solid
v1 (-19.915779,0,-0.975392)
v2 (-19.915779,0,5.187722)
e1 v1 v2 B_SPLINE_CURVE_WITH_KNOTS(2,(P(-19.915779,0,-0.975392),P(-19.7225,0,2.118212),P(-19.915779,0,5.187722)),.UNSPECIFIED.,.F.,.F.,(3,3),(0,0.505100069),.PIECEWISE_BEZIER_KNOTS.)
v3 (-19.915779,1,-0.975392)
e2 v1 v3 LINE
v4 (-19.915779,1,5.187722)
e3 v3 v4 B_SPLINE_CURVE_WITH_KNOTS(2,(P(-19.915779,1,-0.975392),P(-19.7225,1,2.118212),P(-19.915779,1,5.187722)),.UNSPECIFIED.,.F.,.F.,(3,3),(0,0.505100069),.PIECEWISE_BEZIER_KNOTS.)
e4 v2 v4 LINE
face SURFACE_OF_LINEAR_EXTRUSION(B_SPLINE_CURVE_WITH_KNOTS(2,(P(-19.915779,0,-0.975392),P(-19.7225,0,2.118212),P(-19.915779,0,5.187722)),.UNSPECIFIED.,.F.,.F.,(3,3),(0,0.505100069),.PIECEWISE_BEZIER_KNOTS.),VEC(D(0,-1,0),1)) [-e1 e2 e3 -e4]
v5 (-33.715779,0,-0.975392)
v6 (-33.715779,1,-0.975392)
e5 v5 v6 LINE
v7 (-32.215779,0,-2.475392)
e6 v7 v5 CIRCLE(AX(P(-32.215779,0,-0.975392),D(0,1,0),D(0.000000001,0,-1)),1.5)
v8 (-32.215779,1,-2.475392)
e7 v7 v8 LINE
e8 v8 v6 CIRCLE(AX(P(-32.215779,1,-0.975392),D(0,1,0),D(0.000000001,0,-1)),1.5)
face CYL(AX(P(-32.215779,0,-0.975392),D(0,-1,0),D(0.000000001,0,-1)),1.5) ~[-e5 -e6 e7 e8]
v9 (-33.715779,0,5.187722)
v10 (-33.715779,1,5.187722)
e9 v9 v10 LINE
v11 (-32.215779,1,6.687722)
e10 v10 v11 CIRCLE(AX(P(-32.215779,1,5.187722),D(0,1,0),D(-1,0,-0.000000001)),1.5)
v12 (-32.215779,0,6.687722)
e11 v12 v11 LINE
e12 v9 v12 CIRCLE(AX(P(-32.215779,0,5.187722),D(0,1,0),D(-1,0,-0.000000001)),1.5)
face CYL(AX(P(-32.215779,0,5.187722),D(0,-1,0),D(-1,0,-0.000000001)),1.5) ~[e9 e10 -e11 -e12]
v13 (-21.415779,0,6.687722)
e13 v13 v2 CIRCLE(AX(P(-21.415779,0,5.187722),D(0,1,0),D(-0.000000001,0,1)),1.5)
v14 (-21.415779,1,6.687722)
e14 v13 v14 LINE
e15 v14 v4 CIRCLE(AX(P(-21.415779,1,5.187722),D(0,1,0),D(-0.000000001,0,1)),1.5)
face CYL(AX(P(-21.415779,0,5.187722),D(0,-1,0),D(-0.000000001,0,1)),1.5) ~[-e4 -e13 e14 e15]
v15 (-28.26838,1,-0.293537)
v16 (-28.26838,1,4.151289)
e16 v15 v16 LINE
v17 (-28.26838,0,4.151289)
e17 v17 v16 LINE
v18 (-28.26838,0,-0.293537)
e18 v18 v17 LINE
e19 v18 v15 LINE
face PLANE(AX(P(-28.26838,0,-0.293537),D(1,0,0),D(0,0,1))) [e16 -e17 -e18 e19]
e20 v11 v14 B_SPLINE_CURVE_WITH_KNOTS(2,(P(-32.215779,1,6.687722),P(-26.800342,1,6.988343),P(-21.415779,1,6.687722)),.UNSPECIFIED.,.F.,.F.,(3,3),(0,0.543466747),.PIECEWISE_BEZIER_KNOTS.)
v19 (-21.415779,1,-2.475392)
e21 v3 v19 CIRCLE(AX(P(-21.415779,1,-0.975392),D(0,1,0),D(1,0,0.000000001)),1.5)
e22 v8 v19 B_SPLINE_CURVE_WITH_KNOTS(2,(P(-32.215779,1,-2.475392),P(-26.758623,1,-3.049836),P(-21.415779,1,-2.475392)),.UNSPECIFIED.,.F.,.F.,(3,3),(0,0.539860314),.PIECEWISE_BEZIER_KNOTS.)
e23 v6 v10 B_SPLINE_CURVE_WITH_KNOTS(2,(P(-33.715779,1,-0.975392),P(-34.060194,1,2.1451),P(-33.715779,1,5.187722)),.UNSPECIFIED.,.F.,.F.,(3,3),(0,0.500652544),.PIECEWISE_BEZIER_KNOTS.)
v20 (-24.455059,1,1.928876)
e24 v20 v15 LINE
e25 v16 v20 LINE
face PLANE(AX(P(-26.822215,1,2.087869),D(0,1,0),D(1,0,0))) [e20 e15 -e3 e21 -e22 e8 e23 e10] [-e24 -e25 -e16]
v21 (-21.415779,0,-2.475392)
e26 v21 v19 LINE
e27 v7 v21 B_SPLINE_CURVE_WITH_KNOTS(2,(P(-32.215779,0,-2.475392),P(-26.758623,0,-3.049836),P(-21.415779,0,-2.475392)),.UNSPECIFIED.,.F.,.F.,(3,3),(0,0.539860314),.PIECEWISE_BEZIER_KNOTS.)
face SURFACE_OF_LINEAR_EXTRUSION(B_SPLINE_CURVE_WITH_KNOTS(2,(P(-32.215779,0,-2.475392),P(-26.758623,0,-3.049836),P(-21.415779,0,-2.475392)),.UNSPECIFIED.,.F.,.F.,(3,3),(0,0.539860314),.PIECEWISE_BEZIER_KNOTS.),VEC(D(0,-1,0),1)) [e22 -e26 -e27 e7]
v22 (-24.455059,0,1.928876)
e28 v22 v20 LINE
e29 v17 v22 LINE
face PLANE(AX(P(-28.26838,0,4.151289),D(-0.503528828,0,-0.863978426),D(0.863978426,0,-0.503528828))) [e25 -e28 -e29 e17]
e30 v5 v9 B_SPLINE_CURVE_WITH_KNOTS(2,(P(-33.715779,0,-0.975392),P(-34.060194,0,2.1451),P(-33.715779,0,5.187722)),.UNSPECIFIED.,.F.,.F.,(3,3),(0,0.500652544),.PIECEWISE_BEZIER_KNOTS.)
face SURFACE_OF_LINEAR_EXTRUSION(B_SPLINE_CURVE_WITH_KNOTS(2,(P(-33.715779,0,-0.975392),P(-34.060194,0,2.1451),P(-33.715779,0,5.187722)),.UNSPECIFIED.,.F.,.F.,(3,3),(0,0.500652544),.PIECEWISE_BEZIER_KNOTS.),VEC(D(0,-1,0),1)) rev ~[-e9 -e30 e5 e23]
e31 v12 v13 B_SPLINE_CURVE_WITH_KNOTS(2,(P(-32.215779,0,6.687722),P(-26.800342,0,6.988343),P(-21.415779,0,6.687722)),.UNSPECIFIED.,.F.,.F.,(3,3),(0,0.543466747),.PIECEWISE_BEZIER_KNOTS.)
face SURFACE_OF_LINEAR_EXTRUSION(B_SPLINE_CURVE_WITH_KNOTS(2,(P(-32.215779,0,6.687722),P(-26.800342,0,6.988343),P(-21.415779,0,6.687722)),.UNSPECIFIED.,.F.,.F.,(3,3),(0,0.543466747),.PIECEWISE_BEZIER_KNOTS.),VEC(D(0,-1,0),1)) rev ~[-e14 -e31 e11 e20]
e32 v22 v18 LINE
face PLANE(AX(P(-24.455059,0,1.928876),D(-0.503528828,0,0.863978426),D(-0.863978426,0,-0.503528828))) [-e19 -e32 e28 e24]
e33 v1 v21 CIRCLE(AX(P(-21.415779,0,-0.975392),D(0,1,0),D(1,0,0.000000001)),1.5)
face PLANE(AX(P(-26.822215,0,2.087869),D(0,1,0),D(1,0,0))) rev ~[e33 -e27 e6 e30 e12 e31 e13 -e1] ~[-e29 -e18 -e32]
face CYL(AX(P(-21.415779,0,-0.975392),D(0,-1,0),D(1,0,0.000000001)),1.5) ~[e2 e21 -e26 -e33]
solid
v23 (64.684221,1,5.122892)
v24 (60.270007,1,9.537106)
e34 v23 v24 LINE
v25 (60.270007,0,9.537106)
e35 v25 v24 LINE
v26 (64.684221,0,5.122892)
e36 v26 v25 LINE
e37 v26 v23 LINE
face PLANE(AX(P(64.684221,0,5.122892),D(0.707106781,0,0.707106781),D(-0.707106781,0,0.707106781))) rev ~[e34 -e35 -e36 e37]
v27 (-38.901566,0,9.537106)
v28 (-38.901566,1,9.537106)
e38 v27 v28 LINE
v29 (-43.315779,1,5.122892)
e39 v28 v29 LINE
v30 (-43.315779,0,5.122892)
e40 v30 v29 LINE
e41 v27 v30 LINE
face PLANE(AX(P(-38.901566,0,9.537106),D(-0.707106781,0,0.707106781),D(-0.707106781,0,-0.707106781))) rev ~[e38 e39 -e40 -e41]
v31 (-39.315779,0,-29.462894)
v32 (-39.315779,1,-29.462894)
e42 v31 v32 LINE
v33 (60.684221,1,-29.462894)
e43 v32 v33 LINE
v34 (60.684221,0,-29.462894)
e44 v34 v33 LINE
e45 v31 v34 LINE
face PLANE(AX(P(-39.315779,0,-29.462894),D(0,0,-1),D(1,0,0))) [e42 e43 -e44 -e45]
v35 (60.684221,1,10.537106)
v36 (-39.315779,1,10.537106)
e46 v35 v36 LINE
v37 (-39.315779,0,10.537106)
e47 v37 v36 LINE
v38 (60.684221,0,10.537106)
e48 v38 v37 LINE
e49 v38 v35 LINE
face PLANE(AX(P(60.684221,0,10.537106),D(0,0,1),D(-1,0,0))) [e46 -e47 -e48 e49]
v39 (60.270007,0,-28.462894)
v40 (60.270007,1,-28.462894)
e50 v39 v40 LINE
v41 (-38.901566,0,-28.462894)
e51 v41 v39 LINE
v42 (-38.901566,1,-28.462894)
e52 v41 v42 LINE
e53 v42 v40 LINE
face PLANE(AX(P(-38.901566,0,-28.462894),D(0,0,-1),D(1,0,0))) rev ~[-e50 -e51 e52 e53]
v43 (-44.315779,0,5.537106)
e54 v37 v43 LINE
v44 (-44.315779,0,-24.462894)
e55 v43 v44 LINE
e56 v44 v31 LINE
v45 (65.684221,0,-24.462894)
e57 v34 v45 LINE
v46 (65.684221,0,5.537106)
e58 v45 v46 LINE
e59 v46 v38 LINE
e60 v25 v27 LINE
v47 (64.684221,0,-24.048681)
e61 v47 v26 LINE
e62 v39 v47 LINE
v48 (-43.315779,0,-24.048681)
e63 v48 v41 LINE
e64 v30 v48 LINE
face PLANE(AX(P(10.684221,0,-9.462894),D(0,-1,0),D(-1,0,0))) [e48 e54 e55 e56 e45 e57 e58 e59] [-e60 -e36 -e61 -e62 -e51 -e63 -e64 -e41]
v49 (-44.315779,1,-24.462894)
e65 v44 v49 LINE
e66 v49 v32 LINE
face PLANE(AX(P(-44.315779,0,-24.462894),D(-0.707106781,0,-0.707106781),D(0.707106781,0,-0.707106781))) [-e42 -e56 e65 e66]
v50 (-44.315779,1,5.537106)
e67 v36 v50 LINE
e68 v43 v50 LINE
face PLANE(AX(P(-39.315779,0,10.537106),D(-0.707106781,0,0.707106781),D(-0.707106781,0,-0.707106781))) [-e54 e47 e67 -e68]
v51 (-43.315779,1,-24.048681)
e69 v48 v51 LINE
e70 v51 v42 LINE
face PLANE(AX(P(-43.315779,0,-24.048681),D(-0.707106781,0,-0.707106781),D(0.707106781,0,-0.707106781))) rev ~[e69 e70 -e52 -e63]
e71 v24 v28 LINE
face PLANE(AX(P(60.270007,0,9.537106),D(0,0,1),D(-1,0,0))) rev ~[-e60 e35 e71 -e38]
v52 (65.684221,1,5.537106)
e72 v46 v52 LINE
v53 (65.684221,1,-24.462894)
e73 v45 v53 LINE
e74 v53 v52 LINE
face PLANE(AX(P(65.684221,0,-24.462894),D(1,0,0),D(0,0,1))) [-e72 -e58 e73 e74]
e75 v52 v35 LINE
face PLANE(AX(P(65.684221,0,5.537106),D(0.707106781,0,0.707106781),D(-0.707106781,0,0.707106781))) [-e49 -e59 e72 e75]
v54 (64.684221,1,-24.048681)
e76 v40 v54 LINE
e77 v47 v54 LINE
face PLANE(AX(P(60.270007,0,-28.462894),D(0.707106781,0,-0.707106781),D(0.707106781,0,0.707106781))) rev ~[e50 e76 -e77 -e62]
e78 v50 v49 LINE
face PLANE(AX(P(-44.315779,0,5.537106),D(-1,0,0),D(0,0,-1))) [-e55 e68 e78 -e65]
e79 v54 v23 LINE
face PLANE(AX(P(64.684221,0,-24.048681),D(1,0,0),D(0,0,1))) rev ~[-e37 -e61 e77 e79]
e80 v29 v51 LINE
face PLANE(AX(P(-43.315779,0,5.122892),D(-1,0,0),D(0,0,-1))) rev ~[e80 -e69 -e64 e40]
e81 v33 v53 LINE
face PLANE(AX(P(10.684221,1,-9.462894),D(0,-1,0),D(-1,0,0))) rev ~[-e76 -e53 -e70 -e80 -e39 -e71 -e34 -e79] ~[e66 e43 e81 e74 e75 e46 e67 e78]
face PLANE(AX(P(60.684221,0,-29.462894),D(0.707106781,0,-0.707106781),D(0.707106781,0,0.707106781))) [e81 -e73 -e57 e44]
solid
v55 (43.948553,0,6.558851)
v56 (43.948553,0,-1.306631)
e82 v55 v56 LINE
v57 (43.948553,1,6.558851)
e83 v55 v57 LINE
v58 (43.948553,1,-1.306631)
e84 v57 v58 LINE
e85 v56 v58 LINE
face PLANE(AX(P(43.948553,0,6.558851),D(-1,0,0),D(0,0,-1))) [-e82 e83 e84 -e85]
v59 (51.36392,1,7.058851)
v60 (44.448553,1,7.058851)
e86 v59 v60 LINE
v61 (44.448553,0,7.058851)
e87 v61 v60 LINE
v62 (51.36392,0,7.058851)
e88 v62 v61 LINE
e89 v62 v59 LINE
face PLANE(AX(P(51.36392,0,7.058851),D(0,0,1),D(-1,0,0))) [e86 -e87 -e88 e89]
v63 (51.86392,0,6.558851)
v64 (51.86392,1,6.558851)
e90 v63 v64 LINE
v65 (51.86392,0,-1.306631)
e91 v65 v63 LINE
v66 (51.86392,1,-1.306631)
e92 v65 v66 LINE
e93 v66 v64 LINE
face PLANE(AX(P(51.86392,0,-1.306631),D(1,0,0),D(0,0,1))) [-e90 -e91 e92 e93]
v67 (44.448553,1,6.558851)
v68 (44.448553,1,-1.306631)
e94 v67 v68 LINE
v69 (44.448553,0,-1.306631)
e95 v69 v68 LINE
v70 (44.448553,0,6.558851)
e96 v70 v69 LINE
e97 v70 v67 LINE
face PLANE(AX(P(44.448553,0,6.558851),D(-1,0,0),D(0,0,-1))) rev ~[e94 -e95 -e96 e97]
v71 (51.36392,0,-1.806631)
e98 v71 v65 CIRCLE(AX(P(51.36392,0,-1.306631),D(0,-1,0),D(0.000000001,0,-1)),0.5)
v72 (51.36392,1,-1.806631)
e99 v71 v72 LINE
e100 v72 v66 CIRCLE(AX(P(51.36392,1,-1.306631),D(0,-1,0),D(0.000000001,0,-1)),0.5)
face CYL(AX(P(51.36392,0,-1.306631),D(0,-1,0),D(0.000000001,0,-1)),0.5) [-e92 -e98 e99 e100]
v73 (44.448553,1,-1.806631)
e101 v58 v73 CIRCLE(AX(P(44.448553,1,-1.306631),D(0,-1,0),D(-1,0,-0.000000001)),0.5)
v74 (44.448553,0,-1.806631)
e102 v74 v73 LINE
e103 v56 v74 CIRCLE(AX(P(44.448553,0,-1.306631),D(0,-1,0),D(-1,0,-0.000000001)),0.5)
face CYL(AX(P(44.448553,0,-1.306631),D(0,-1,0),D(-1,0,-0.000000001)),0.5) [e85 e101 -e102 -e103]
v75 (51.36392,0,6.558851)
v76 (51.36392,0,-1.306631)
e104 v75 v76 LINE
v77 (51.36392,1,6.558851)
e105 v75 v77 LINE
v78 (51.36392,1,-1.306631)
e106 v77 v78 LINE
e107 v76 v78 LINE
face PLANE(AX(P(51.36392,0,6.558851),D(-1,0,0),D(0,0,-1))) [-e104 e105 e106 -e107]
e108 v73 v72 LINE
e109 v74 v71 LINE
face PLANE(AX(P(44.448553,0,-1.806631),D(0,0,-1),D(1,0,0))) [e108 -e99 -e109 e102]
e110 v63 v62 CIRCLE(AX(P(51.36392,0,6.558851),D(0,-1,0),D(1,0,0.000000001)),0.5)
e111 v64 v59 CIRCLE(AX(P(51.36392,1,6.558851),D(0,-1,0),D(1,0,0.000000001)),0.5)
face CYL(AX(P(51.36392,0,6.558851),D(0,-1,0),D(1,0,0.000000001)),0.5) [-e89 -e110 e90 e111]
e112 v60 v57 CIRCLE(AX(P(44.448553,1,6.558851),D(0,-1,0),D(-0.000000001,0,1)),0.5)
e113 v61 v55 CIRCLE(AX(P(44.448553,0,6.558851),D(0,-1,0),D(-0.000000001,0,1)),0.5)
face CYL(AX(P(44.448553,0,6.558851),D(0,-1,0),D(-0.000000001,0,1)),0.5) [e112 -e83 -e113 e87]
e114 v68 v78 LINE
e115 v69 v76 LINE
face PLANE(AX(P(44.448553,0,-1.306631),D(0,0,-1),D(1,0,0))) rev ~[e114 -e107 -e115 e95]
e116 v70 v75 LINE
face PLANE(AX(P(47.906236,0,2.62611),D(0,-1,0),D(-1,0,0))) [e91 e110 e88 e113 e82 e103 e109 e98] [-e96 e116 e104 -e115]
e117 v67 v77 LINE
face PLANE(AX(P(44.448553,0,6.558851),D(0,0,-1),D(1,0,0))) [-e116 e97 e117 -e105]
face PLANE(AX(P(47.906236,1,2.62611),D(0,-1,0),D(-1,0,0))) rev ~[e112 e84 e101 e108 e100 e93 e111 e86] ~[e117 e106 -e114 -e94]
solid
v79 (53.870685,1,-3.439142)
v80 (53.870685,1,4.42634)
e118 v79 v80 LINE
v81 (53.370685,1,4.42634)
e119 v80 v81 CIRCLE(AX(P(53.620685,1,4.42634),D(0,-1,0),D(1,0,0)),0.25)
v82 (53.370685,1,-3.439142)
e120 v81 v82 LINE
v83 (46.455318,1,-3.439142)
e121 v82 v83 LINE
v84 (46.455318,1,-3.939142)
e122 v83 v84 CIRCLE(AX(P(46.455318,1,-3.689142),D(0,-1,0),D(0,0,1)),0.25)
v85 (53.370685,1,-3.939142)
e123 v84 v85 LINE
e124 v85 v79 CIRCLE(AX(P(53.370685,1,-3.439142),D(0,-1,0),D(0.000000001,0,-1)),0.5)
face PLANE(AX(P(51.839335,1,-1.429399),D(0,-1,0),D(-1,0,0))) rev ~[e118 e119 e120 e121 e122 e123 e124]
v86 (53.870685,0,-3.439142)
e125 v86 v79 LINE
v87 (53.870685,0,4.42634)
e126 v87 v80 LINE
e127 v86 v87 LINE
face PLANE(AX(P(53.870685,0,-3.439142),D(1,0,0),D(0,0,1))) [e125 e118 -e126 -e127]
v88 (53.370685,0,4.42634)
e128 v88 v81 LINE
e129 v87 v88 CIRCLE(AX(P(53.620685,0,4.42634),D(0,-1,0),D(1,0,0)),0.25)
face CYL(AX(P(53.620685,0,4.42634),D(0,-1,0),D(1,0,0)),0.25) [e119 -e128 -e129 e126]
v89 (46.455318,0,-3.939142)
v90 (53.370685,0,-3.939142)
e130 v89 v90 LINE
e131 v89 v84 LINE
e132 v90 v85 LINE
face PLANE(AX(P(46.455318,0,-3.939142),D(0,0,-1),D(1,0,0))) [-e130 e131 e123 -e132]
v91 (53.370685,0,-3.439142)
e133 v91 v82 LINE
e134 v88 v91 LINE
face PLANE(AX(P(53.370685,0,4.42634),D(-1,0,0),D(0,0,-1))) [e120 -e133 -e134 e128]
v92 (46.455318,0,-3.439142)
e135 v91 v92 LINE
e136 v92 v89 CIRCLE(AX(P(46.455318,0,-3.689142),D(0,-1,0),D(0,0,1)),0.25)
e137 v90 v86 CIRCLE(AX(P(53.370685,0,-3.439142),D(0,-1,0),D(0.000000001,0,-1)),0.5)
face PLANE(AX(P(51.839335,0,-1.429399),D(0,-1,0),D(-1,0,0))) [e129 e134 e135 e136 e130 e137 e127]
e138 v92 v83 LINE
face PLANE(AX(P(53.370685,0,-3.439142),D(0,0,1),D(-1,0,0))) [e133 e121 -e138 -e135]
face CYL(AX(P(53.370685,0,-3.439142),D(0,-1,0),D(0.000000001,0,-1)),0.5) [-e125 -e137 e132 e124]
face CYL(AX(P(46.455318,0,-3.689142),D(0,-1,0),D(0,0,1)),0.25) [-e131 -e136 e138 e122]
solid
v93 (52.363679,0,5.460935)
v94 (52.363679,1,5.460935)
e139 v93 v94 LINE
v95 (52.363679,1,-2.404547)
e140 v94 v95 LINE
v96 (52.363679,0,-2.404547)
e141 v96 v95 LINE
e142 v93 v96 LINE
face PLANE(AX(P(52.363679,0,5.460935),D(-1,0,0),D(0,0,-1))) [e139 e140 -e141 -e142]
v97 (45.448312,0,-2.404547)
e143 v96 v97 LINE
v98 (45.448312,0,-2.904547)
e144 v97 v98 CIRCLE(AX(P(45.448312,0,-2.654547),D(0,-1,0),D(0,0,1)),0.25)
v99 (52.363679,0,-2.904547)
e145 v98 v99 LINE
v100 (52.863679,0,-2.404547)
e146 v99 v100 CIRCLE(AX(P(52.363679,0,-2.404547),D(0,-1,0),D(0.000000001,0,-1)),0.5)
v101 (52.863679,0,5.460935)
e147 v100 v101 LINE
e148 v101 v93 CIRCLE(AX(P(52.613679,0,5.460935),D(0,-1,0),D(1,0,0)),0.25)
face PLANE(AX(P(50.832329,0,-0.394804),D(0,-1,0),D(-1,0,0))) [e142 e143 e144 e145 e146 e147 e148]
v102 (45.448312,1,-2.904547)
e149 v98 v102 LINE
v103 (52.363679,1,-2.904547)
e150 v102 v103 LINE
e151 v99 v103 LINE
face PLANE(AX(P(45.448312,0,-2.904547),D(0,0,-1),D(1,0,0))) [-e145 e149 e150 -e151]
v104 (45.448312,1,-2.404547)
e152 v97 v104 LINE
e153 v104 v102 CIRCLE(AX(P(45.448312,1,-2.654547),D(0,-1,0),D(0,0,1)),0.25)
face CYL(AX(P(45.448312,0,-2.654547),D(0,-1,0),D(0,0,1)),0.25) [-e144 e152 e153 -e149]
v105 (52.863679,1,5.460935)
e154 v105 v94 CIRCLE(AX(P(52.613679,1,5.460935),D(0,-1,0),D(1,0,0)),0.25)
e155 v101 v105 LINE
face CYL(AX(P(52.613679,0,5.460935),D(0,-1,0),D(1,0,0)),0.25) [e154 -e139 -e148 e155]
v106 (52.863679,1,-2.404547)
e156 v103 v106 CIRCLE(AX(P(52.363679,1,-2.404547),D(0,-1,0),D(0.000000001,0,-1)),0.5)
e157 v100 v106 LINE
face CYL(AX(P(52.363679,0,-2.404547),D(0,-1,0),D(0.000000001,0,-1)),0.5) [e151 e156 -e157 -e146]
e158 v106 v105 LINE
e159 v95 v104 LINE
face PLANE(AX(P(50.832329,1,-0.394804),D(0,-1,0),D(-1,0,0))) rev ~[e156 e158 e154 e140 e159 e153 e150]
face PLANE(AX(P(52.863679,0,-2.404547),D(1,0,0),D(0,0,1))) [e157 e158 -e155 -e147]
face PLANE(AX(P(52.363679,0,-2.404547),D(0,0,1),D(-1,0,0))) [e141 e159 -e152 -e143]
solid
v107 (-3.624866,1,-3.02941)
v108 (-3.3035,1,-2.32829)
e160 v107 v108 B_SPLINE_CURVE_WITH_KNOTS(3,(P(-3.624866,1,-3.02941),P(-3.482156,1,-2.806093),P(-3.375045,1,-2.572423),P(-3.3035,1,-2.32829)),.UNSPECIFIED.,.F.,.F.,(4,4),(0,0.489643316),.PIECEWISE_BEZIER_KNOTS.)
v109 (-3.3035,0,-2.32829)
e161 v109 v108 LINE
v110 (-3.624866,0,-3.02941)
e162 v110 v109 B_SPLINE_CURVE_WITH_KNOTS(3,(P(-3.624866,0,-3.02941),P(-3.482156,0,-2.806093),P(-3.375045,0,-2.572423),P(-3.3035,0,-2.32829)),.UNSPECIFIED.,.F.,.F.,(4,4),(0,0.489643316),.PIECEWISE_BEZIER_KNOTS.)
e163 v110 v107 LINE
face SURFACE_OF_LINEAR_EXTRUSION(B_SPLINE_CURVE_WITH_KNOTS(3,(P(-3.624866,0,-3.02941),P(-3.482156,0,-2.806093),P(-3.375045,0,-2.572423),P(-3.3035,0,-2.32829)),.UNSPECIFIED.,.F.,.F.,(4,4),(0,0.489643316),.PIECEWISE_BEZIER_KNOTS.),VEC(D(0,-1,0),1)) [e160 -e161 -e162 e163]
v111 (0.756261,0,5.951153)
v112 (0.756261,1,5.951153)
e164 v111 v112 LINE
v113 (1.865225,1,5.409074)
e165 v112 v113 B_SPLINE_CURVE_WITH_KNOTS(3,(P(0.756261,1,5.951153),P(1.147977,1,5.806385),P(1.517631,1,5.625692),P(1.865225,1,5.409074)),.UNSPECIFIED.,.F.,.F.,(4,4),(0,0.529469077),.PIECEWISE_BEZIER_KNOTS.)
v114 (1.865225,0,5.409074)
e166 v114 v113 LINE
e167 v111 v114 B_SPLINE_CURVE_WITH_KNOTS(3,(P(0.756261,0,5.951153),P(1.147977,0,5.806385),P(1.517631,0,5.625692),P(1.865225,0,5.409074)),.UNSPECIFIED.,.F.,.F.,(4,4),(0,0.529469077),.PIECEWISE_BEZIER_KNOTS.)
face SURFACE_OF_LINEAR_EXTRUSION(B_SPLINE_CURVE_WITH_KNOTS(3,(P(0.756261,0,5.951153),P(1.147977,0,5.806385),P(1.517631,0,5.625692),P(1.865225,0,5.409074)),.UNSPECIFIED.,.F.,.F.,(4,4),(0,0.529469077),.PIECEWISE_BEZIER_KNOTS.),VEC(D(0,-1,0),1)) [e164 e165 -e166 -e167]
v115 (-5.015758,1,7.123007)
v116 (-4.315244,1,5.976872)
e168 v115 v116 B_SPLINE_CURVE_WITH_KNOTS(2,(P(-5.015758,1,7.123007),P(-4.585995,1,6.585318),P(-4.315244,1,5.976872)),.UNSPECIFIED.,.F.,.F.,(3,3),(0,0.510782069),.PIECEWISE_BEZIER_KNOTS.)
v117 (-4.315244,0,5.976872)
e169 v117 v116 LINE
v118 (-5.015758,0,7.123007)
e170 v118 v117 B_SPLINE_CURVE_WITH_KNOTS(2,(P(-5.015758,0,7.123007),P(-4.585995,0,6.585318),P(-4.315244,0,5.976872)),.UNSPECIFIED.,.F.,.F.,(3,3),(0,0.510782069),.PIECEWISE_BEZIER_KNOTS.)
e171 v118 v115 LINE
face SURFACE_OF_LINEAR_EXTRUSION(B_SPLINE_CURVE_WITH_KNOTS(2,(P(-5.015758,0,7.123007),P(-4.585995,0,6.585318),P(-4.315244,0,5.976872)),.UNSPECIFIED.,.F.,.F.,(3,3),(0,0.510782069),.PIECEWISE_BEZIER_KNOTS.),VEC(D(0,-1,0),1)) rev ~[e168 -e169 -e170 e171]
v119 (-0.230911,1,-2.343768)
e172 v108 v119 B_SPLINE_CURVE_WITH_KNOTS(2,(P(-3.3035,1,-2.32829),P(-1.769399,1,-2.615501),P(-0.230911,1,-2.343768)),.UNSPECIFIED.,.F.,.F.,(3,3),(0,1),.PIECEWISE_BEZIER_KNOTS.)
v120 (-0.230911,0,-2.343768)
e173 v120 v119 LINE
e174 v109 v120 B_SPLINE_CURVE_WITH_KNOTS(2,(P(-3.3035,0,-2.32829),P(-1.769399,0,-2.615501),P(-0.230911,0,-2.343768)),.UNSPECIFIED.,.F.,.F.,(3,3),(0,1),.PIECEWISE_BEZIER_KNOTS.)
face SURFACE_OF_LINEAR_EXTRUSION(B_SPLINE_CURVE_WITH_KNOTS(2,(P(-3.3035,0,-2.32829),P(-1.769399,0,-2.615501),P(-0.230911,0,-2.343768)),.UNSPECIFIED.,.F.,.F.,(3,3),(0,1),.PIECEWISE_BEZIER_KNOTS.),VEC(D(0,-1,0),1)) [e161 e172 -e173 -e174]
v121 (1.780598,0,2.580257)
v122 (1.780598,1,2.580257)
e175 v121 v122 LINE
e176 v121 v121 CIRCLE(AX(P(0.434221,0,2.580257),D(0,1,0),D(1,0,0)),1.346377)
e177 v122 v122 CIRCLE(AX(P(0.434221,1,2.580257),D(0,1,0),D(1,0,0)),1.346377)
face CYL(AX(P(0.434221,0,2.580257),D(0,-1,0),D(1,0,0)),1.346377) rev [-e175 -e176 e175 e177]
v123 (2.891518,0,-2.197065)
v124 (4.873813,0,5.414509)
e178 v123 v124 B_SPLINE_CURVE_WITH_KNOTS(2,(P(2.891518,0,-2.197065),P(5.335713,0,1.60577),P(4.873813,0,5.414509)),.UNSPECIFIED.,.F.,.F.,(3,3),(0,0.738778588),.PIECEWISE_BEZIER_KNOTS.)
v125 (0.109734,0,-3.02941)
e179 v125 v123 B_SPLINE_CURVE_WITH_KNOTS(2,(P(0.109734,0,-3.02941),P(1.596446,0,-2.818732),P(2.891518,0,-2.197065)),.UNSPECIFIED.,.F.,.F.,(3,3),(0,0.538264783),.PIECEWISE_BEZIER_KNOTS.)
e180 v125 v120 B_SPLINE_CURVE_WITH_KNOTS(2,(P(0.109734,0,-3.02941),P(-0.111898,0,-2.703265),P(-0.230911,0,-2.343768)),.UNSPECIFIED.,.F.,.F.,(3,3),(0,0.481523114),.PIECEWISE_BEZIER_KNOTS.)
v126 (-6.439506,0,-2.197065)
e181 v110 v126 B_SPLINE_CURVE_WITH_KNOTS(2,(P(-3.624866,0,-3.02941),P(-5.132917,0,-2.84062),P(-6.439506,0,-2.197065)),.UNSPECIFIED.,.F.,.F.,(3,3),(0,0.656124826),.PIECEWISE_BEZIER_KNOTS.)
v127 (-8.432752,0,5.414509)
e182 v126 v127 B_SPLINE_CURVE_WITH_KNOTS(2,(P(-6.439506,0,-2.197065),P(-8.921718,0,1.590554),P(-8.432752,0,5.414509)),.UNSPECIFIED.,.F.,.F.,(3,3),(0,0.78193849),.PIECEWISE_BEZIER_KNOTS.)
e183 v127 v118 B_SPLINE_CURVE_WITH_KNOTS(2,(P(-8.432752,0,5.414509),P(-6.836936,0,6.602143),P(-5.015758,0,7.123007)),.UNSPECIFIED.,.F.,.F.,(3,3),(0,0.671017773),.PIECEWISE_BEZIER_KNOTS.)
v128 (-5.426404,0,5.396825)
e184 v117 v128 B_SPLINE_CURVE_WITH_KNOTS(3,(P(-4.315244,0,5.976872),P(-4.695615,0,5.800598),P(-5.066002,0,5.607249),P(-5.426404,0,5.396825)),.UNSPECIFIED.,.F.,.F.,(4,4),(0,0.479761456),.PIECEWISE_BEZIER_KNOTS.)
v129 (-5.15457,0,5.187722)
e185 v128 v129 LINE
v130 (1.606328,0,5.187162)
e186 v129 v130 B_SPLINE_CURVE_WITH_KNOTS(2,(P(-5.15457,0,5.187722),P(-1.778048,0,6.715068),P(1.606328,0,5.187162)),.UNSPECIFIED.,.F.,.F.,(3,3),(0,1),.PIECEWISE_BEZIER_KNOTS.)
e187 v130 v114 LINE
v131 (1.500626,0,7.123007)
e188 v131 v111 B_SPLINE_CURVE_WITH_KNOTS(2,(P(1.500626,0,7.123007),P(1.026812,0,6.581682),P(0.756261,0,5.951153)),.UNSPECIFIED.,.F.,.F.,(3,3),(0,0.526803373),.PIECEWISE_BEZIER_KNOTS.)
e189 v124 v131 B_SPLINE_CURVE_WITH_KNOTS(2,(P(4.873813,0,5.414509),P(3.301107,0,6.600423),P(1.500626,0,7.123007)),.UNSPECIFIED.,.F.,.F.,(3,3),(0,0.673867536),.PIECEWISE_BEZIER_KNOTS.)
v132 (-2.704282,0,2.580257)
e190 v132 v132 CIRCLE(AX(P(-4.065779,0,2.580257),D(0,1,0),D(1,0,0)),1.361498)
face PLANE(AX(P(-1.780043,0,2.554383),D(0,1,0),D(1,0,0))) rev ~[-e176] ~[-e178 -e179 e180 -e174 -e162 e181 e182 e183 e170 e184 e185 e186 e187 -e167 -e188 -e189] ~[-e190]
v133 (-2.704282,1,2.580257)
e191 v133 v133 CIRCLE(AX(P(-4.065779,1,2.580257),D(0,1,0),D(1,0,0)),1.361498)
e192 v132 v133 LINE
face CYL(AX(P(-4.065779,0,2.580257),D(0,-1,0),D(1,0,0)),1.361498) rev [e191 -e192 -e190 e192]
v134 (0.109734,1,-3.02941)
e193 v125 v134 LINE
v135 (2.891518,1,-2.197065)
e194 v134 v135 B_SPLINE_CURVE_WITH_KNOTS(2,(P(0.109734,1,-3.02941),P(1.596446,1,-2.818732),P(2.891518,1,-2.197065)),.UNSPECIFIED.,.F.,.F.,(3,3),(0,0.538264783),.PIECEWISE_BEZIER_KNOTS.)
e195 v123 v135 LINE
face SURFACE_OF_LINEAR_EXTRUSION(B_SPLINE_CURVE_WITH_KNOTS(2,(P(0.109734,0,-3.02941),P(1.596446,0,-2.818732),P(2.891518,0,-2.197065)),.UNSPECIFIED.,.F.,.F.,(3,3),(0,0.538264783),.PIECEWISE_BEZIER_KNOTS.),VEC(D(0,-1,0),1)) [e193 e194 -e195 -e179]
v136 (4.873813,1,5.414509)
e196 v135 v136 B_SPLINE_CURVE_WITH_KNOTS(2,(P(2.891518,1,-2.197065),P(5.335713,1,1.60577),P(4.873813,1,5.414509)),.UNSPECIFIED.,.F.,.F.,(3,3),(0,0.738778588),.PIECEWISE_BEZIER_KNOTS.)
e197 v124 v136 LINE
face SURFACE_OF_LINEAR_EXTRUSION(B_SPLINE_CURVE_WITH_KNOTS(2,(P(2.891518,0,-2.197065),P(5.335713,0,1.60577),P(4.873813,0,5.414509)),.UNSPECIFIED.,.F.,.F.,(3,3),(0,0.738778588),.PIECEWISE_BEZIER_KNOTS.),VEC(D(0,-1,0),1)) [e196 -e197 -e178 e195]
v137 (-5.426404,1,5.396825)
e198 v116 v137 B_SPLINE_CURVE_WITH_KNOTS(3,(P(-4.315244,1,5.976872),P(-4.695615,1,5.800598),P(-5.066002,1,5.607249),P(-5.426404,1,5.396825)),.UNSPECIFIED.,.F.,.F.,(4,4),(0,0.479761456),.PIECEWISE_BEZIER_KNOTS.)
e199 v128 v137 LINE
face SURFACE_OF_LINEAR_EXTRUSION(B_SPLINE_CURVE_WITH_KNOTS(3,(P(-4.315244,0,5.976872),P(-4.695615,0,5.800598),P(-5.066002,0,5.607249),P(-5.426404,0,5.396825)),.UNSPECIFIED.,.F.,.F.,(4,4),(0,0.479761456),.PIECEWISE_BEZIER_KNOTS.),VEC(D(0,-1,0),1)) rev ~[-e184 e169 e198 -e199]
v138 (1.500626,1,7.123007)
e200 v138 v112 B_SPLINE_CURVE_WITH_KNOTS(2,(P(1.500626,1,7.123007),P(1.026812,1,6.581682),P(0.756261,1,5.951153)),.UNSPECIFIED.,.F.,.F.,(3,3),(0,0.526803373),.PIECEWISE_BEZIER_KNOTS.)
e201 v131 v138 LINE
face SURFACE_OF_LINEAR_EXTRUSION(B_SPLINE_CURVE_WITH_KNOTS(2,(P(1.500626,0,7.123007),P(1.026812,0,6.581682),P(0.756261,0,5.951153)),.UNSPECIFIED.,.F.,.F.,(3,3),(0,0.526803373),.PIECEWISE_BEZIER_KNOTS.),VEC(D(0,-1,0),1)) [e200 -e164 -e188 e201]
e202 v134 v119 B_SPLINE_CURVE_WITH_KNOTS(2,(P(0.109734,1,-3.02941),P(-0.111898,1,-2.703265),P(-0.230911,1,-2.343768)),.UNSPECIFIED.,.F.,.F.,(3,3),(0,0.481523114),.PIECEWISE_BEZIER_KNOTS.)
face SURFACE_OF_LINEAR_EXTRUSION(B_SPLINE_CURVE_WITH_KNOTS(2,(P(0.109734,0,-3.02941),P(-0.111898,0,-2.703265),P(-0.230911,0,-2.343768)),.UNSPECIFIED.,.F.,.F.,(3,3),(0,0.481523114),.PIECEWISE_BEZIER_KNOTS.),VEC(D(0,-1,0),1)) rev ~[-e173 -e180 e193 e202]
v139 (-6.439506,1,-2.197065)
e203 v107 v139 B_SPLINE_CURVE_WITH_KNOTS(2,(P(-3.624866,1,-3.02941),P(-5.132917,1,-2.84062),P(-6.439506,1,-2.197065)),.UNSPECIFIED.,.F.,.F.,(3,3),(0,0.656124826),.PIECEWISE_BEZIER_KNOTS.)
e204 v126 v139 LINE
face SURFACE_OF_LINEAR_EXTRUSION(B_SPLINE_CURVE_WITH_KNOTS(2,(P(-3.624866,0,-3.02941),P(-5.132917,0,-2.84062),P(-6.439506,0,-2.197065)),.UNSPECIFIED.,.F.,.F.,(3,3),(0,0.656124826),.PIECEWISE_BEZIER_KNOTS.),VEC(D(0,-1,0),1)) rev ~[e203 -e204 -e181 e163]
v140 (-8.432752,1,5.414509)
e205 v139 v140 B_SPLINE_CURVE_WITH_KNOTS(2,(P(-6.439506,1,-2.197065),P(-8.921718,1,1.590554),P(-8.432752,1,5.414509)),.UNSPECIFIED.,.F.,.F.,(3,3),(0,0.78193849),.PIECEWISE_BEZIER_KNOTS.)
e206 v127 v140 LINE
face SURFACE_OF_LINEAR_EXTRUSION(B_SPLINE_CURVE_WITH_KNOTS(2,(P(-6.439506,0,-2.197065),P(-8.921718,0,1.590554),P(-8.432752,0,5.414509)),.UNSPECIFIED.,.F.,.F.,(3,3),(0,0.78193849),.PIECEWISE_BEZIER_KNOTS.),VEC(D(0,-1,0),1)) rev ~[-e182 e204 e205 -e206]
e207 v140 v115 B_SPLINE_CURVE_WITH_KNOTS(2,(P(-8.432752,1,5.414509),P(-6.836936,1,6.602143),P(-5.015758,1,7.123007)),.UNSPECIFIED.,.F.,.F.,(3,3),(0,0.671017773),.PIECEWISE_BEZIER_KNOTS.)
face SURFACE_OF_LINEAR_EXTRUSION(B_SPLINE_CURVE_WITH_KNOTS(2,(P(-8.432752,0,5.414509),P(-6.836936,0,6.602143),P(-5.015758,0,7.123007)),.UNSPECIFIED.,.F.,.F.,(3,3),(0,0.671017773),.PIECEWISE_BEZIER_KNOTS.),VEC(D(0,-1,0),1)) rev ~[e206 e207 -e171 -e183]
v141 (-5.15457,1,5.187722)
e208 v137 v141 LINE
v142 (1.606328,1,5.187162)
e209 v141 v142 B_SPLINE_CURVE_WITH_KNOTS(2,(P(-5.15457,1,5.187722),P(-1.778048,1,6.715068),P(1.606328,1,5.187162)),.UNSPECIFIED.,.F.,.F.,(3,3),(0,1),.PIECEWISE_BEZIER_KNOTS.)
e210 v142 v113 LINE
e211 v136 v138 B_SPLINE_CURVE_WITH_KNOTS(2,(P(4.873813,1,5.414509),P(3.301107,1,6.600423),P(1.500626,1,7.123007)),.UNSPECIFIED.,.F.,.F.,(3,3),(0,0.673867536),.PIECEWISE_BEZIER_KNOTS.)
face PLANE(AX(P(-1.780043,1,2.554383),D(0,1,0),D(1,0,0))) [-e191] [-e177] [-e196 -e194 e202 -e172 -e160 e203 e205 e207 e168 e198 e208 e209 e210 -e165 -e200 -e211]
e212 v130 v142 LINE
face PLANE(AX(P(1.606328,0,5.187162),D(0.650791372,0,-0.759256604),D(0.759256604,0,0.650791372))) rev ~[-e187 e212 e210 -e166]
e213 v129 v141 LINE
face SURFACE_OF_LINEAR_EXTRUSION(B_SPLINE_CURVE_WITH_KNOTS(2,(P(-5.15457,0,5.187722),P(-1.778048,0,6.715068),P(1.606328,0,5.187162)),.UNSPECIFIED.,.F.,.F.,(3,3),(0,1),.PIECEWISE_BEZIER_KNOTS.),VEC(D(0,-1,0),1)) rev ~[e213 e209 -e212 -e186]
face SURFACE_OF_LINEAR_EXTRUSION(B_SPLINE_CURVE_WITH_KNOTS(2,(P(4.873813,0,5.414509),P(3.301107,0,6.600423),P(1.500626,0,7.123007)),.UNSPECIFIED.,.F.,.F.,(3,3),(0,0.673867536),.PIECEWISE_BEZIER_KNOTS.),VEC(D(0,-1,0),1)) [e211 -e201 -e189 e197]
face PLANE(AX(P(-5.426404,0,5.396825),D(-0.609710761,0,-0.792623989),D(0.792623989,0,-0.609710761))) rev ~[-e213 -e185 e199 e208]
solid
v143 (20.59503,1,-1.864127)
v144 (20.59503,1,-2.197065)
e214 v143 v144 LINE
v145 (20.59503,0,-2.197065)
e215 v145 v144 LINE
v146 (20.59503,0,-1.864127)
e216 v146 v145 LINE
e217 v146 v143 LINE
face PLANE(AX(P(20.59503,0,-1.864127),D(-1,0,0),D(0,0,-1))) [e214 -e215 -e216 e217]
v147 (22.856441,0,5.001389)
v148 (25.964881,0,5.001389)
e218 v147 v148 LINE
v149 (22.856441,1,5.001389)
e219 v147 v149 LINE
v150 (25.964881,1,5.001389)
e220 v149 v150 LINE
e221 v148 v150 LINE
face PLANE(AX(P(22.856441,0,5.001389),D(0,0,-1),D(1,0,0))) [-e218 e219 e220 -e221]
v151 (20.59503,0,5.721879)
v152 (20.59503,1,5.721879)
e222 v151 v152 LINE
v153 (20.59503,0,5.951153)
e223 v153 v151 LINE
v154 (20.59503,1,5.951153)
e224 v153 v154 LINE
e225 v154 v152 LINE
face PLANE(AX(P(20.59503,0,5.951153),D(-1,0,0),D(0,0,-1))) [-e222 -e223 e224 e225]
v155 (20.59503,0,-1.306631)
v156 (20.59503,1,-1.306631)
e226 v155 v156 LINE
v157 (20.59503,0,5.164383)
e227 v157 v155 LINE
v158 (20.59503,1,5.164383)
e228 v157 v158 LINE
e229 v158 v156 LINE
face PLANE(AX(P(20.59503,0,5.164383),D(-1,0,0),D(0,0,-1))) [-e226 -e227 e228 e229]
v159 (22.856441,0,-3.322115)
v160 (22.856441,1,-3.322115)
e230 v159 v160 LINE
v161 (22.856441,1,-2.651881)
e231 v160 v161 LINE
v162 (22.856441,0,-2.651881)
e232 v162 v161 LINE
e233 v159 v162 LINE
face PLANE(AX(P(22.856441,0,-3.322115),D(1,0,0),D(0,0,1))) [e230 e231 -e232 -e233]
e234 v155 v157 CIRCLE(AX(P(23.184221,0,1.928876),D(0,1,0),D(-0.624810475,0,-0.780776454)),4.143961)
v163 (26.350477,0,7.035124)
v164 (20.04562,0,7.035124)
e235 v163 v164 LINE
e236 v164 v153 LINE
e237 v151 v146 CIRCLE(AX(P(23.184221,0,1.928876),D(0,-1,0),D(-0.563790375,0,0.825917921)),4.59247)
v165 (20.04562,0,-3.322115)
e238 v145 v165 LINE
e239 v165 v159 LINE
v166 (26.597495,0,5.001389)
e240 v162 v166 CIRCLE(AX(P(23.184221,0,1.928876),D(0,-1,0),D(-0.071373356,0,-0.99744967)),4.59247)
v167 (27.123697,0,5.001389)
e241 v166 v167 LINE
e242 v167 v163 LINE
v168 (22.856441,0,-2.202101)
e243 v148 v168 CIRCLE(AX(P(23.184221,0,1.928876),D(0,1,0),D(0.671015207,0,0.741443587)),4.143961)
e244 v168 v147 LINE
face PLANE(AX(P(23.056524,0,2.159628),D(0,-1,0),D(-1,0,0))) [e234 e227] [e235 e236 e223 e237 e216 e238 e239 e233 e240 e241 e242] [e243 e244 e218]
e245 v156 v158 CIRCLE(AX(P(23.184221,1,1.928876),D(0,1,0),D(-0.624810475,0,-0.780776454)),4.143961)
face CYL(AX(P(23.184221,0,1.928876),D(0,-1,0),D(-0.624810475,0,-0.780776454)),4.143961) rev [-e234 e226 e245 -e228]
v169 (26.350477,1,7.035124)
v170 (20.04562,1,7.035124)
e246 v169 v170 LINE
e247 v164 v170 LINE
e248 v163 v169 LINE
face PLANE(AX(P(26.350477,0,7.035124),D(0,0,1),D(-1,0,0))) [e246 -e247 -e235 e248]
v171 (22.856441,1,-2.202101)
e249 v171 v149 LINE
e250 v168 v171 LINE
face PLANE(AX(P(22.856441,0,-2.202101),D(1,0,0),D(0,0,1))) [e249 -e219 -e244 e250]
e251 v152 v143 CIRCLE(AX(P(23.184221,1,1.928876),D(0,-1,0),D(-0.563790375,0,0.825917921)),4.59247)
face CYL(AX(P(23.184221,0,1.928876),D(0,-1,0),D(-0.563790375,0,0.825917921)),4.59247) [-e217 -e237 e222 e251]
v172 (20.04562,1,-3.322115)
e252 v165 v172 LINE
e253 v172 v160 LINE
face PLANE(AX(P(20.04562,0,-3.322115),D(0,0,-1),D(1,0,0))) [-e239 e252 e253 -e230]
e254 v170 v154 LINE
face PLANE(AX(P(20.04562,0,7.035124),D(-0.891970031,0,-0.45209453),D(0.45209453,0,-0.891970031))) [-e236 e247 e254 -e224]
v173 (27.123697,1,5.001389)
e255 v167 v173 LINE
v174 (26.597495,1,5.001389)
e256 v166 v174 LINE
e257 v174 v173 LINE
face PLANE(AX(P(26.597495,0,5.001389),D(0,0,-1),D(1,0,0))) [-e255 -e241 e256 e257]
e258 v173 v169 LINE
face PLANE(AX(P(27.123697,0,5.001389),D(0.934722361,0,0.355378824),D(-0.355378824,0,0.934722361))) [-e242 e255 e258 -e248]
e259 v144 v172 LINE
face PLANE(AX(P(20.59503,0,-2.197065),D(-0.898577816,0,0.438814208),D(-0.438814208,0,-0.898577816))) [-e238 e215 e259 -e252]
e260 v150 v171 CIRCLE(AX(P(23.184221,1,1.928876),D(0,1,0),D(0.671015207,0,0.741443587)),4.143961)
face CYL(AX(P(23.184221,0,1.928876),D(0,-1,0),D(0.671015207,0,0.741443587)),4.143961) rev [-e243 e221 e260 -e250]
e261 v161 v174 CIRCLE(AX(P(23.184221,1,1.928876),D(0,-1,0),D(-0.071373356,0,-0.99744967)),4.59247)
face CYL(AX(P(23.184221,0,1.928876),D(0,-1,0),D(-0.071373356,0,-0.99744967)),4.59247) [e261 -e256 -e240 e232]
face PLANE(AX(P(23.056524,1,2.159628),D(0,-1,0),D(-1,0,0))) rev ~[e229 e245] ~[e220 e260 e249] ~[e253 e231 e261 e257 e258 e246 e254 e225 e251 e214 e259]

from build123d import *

# Parameters (mm, degrees)
SALIENTE_EXTRUIR1_DEPTH   = 1
CROQUIS2_R                = 1.361497815
CROQUIS2_R_2              = 1.346376897
SALIENTE_EXTRUIR2_DEPTH   = 1
SALIENTE_EXTRUIR2_2_DEPTH = 1
CROQUIS2_W                = 6.915366852
CROQUIS2_H                = 7.865481614
SALIENTE_EXTRUIR2_3_DEPTH = 1
SALIENTE_EXTRUIR2_4_DEPTH = 1
SALIENTE_EXTRUIR2_5_DEPTH = 1
SALIENTE_EXTRUIR2_6_DEPTH = 1


with BuildPart() as part:
    # Croquis1 → Saliente-Extruir1 (new body)
    with BuildSketch(Plane(origin=(0, 0, 0), x_dir=(1, 0, 0), z_dir=(0, 1, 0))):
        Polygon((-44.315779358, 24.462894216), (-39.315779358, 29.462894216), (60.684220642, 29.462894216), (65.684220642, 24.462894216), (65.684220642, -5.537105784), (60.684220642, -10.537105784), (-39.315779358, -10.537105784), (-44.315779358, -5.537105784), align=None)
        Polygon((-38.901565795, 28.462894216), (60.27000708, 28.462894216), (64.684220642, 24.048680653), (64.684220642, -5.122892222), (60.27000708, -9.537105784), (-38.901565795, -9.537105784), (-43.315779358, -5.122892222), (-43.315779358, 24.048680653), align=None, mode=Mode.SUBTRACT)
    extrude(amount=SALIENTE_EXTRUIR1_DEPTH)


with BuildPart() as body_2:
    # Croquis2 → Saliente-Extruir2 (new body)
    with BuildSketch(Plane(origin=(0, 0, 0), x_dir=(1, 0, 0), z_dir=(0, 1, 0))):
        with BuildLine():
            Line((-5.426404078, -5.396825328), (-5.154570208, -5.187722351))
            add(Edge.make_bspline(
                [(-5.154570208, -5.187722351), (-1.778047769, -6.715067504), (1.606327628, -5.187161649)],
                knots=[0, 0, 0, 1, 1, 1], degree=2))
            Line((1.606327628, -5.187161649), (1.865225464, -5.409074079))
            add(Edge.make_bspline(
                [(0.756261058, -5.951152724), (1.147976609, -5.806384801), (1.517631405, -5.625691923), (1.865225464, -5.409074079)],
                knots=[0, 0, 0, 0, 0.529469077, 0.529469077, 0.529469077, 0.529469077], degree=3))
            add(Edge.make_bspline(
                [(1.500626334, -7.123006663), (1.026812248, -6.581682279), (0.756261058, -5.951152724)],
                knots=[0, 0, 0, 0.526803373, 0.526803373, 0.526803373], degree=2))
            add(Edge.make_bspline(
                [(4.873813374, -5.414509331), (3.301106847, -6.600422577), (1.500626334, -7.123006663)],
                knots=[0, 0, 0, 0.673867536, 0.673867536, 0.673867536], degree=2))
            add(Edge.make_bspline(
                [(2.891518393, 2.197065323), (5.335713187, -1.605769838), (4.873813374, -5.414509331)],
                knots=[0, 0, 0, 0.738778588, 0.738778588, 0.738778588], degree=2))
            add(Edge.make_bspline(
                [(0.109734275, 3.029410177), (1.596446356, 2.818732188), (2.891518393, 2.197065323)],
                knots=[0, 0, 0, 0.538264783, 0.538264783, 0.538264783], degree=2))
            add(Edge.make_bspline(
                [(0.109734275, 3.029410177), (-0.111898226, 2.70326467), (-0.230911201, 2.343767826)],
                knots=[0, 0, 0, 0.481523114, 0.481523114, 0.481523114], degree=2))
            add(Edge.make_bspline(
                [(-3.303499979, 2.328290465), (-1.769398985, 2.615501041), (-0.230911201, 2.343767826)],
                knots=[0, 0, 0, 1, 1, 1], degree=2))
            add(Edge.make_bspline(
                [(-3.624865664, 3.029410177), (-3.482156193, 2.806092888), (-3.375045086, 2.572423128), (-3.303499979, 2.328290465)],
                knots=[0, 0, 0, 0, 0.489643316, 0.489643316, 0.489643316, 0.489643316], degree=3))
            add(Edge.make_bspline(
                [(-3.624865664, 3.029410177), (-5.132917301, 2.840619601), (-6.4395055, 2.197065323)],
                knots=[0, 0, 0, 0.656124826, 0.656124826, 0.656124826], degree=2))
            add(Edge.make_bspline(
                [(-6.4395055, 2.197065323), (-8.921718156, -1.590554285), (-8.432752387, -5.414509331)],
                knots=[0, 0, 0, 0.78193849, 0.78193849, 0.78193849], degree=2))
            add(Edge.make_bspline(
                [(-8.432752387, -5.414509331), (-6.836935569, -6.602143075), (-5.015757723, -7.123006663)],
                knots=[0, 0, 0, 0.671017773, 0.671017773, 0.671017773], degree=2))
            add(Edge.make_bspline(
                [(-5.015757723, -7.123006663), (-4.585994773, -6.585318237), (-4.315243519, -5.97687157)],
                knots=[0, 0, 0, 0.510782069, 0.510782069, 0.510782069], degree=2))
            add(Edge.make_bspline(
                [(-4.315243519, -5.97687157), (-4.695614995, -5.800597715), (-5.066001846, -5.607248965), (-5.426404078, -5.396825328)],
                knots=[0, 0, 0, 0, 0.479761456, 0.479761456, 0.479761456, 0.479761456], degree=3))
        make_face()
        with Locations((-4.065779358, -2.580256668)):
            Circle(CROQUIS2_R, mode=Mode.SUBTRACT)
        with Locations((0.434220642, -2.580256668)):
            Circle(CROQUIS2_R_2, mode=Mode.SUBTRACT)
    extrude(amount=SALIENTE_EXTRUIR2_DEPTH)


with BuildPart() as body_3:
    # Croquis2 → Saliente-Extruir2 2 (new body)
    with BuildSketch(Plane(origin=(0, 0, 0), x_dir=(1, 0, 0), z_dir=(0, 1, 0))):
        with BuildLine():
            Line((20.045620158, 3.322115288), (22.856440669, 3.322115288))
            Line((22.856440669, 3.322115288), (22.856440669, 2.651881324))
            ThreePointArc((22.856440669, 2.651881324), (27.310139453, 0.087946094), (26.597494702, -5.001389244))
            Line((26.597494702, -5.001389244), (27.123697346, -5.001389244))
            Line((27.123697346, -5.001389244), (26.350477055, -7.035124087))
            Line((26.350477055, -7.035124087), (20.045620158, -7.035124087))
            Line((20.045620158, -7.035124087), (20.59503046, -5.951152724))
            Line((20.59503046, -5.951152724), (20.59503046, -5.721878986))
            ThreePointArc((20.59503046, -5.721878986), (18.591751, -1.928876005), (20.59503046, 1.864126976))
            Line((20.59503046, 1.864126976), (20.59503046, 2.197065323))
            Line((20.59503046, 2.197065323), (20.045620158, 3.322115288))
        make_face()
        with BuildLine():
            Line((22.856440669, -5.001389244), (25.964881426, -5.001389244))
            ThreePointArc((25.964881426, -5.001389244), (26.989049751, -0.287021123), (22.856440669, 2.202101155))
            Line((22.856440669, 2.202101155), (22.856440669, -5.001389244))
        make_face(mode=Mode.SUBTRACT)
        with BuildLine():
            Line((20.59503046, -5.164383106), (20.59503046, 1.306631097))
            ThreePointArc((20.59503046, 1.306631097), (19.040259735, -1.928876005), (20.59503046, -5.164383106))
        make_face(mode=Mode.SUBTRACT)
    extrude(amount=SALIENTE_EXTRUIR2_2_DEPTH)


with BuildPart() as body_4:
    # Croquis2 → Saliente-Extruir2 3 (new body)
    with BuildSketch(Plane(origin=(0, 0, 0), x_dir=(1, 0, 0), z_dir=(0, 1, 0))):
        with BuildLine():
            Line((44.448553025, 1.806631097), (51.363919877, 1.806631097))
            ThreePointArc((51.363919877, 1.806631097), (51.717473267, 1.660184488), (51.863919877, 1.306631097))
            Line((51.863919877, 1.306631097), (51.863919877, -6.558850517))
            ThreePointArc((51.863919877, -6.558850517), (51.717473267, -6.912403908), (51.363919877, -7.058850517))
            Line((51.363919877, -7.058850517), (44.448553025, -7.058850517))
            ThreePointArc((44.448553025, -7.058850517), (44.094999635, -6.912403908), (43.948553025, -6.558850517))
            Line((43.948553025, -6.558850517), (43.948553025, 1.306631097))
            ThreePointArc((43.948553025, 1.306631097), (44.094999635, 1.660184488), (44.448553025, 1.806631097))
        make_face()
        with Locations((47.906236451, -2.62610971)):
            Rectangle(CROQUIS2_W, CROQUIS2_H, mode=Mode.SUBTRACT)
    extrude(amount=SALIENTE_EXTRUIR2_3_DEPTH)


with BuildPart() as body_5:
    # Croquis2 → Saliente-Extruir2 4 (new body)
    with BuildSketch(Plane(origin=(0, 0, 0), x_dir=(1, 0, 0), z_dir=(0, 1, 0))):
        with BuildLine():
            Line((45.448311848, 2.90454651), (52.3636787, 2.90454651))
            ThreePointArc((52.3636787, 2.90454651), (52.71723209, 2.758099901), (52.8636787, 2.40454651))
            Line((52.8636787, 2.40454651), (52.8636787, -5.460935104))
            ThreePointArc((52.8636787, -5.460935104), (52.6136787, -5.710935104), (52.3636787, -5.460935104))
            Line((52.3636787, -5.460935104), (52.3636787, 2.40454651))
            Line((52.3636787, 2.40454651), (45.448311848, 2.40454651))
            ThreePointArc((45.448311848, 2.40454651), (45.198311848, 2.65454651), (45.448311848, 2.90454651))
        make_face()
    extrude(amount=SALIENTE_EXTRUIR2_4_DEPTH)


with BuildPart() as body_6:
    # Croquis2 → Saliente-Extruir2 5 (new body)
    with BuildSketch(Plane(origin=(0, 0, 0), x_dir=(1, 0, 0), z_dir=(0, 1, 0))):
        with BuildLine():
            Line((46.455317987, 3.939141858), (53.370684838, 3.939141858))
            ThreePointArc((53.370684838, 3.939141858), (53.724238229, 3.792695248), (53.870684838, 3.439141858))
            Line((53.870684838, 3.439141858), (53.870684838, -4.426339756))
            ThreePointArc((53.870684838, -4.426339756), (53.620684838, -4.676339756), (53.370684838, -4.426339756))
            Line((53.370684838, -4.426339756), (53.370684838, 3.439141858))
            Line((53.370684838, 3.439141858), (46.455317987, 3.439141858))
            ThreePointArc((46.455317987, 3.439141858), (46.205317987, 3.689141858), (46.455317987, 3.939141858))
        make_face()
    extrude(amount=SALIENTE_EXTRUIR2_5_DEPTH)


with BuildPart() as body_7:
    # Croquis2 → Saliente-Extruir2 6 (new body)
    with BuildSketch(Plane(origin=(0, 0, 0), x_dir=(1, 0, 0), z_dir=(0, 1, 0))):
        with BuildLine():
            ThreePointArc((-32.215779358, 2.475392476), (-33.27643953, 2.036052648), (-33.715779358, 0.975392476))
            add(Edge.make_bspline(
                [(-33.715779358, 0.975392476), (-34.060193738, -2.145099996), (-33.715779358, -5.187722351)],
                knots=[0, 0, 0, 0.500652544, 0.500652544, 0.500652544], degree=2))
            ThreePointArc((-33.715779358, -5.187722351), (-33.27643953, -6.248382523), (-32.215779358, -6.687722351))
            add(Edge.make_bspline(
                [(-32.215779358, -6.687722351), (-26.800341588, -6.988342953), (-21.415779358, -6.687722351)],
                knots=[0, 0, 0, 0.543466747, 0.543466747, 0.543466747], degree=2))
            ThreePointArc((-21.415779358, -6.687722351), (-20.355119186, -6.248382523), (-19.915779358, -5.187722351))
            add(Edge.make_bspline(
                [(-19.915779358, 0.975392476), (-19.722500126, -2.118211874), (-19.915779358, -5.187722351)],
                knots=[0, 0, 0, 0.505100069, 0.505100069, 0.505100069], degree=2))
            ThreePointArc((-19.915779358, 0.975392476), (-20.355119186, 2.036052648), (-21.415779358, 2.475392476))
            add(Edge.make_bspline(
                [(-32.215779358, 2.475392476), (-26.758622525, 3.049836136), (-21.415779358, 2.475392476)],
                knots=[0, 0, 0, 0.539860314, 0.539860314, 0.539860314], degree=2))
        make_face()
        Polygon((-28.268379534, 0.293537194), (-28.268379534, -4.151289204), (-24.455058525, -1.928876005), align=None, mode=Mode.SUBTRACT)
    extrude(amount=SALIENTE_EXTRUIR2_6_DEPTH)


solid = Compound([part.part, body_2.part, body_3.part, body_4.part, body_5.part, body_6.part, body_7.part])
